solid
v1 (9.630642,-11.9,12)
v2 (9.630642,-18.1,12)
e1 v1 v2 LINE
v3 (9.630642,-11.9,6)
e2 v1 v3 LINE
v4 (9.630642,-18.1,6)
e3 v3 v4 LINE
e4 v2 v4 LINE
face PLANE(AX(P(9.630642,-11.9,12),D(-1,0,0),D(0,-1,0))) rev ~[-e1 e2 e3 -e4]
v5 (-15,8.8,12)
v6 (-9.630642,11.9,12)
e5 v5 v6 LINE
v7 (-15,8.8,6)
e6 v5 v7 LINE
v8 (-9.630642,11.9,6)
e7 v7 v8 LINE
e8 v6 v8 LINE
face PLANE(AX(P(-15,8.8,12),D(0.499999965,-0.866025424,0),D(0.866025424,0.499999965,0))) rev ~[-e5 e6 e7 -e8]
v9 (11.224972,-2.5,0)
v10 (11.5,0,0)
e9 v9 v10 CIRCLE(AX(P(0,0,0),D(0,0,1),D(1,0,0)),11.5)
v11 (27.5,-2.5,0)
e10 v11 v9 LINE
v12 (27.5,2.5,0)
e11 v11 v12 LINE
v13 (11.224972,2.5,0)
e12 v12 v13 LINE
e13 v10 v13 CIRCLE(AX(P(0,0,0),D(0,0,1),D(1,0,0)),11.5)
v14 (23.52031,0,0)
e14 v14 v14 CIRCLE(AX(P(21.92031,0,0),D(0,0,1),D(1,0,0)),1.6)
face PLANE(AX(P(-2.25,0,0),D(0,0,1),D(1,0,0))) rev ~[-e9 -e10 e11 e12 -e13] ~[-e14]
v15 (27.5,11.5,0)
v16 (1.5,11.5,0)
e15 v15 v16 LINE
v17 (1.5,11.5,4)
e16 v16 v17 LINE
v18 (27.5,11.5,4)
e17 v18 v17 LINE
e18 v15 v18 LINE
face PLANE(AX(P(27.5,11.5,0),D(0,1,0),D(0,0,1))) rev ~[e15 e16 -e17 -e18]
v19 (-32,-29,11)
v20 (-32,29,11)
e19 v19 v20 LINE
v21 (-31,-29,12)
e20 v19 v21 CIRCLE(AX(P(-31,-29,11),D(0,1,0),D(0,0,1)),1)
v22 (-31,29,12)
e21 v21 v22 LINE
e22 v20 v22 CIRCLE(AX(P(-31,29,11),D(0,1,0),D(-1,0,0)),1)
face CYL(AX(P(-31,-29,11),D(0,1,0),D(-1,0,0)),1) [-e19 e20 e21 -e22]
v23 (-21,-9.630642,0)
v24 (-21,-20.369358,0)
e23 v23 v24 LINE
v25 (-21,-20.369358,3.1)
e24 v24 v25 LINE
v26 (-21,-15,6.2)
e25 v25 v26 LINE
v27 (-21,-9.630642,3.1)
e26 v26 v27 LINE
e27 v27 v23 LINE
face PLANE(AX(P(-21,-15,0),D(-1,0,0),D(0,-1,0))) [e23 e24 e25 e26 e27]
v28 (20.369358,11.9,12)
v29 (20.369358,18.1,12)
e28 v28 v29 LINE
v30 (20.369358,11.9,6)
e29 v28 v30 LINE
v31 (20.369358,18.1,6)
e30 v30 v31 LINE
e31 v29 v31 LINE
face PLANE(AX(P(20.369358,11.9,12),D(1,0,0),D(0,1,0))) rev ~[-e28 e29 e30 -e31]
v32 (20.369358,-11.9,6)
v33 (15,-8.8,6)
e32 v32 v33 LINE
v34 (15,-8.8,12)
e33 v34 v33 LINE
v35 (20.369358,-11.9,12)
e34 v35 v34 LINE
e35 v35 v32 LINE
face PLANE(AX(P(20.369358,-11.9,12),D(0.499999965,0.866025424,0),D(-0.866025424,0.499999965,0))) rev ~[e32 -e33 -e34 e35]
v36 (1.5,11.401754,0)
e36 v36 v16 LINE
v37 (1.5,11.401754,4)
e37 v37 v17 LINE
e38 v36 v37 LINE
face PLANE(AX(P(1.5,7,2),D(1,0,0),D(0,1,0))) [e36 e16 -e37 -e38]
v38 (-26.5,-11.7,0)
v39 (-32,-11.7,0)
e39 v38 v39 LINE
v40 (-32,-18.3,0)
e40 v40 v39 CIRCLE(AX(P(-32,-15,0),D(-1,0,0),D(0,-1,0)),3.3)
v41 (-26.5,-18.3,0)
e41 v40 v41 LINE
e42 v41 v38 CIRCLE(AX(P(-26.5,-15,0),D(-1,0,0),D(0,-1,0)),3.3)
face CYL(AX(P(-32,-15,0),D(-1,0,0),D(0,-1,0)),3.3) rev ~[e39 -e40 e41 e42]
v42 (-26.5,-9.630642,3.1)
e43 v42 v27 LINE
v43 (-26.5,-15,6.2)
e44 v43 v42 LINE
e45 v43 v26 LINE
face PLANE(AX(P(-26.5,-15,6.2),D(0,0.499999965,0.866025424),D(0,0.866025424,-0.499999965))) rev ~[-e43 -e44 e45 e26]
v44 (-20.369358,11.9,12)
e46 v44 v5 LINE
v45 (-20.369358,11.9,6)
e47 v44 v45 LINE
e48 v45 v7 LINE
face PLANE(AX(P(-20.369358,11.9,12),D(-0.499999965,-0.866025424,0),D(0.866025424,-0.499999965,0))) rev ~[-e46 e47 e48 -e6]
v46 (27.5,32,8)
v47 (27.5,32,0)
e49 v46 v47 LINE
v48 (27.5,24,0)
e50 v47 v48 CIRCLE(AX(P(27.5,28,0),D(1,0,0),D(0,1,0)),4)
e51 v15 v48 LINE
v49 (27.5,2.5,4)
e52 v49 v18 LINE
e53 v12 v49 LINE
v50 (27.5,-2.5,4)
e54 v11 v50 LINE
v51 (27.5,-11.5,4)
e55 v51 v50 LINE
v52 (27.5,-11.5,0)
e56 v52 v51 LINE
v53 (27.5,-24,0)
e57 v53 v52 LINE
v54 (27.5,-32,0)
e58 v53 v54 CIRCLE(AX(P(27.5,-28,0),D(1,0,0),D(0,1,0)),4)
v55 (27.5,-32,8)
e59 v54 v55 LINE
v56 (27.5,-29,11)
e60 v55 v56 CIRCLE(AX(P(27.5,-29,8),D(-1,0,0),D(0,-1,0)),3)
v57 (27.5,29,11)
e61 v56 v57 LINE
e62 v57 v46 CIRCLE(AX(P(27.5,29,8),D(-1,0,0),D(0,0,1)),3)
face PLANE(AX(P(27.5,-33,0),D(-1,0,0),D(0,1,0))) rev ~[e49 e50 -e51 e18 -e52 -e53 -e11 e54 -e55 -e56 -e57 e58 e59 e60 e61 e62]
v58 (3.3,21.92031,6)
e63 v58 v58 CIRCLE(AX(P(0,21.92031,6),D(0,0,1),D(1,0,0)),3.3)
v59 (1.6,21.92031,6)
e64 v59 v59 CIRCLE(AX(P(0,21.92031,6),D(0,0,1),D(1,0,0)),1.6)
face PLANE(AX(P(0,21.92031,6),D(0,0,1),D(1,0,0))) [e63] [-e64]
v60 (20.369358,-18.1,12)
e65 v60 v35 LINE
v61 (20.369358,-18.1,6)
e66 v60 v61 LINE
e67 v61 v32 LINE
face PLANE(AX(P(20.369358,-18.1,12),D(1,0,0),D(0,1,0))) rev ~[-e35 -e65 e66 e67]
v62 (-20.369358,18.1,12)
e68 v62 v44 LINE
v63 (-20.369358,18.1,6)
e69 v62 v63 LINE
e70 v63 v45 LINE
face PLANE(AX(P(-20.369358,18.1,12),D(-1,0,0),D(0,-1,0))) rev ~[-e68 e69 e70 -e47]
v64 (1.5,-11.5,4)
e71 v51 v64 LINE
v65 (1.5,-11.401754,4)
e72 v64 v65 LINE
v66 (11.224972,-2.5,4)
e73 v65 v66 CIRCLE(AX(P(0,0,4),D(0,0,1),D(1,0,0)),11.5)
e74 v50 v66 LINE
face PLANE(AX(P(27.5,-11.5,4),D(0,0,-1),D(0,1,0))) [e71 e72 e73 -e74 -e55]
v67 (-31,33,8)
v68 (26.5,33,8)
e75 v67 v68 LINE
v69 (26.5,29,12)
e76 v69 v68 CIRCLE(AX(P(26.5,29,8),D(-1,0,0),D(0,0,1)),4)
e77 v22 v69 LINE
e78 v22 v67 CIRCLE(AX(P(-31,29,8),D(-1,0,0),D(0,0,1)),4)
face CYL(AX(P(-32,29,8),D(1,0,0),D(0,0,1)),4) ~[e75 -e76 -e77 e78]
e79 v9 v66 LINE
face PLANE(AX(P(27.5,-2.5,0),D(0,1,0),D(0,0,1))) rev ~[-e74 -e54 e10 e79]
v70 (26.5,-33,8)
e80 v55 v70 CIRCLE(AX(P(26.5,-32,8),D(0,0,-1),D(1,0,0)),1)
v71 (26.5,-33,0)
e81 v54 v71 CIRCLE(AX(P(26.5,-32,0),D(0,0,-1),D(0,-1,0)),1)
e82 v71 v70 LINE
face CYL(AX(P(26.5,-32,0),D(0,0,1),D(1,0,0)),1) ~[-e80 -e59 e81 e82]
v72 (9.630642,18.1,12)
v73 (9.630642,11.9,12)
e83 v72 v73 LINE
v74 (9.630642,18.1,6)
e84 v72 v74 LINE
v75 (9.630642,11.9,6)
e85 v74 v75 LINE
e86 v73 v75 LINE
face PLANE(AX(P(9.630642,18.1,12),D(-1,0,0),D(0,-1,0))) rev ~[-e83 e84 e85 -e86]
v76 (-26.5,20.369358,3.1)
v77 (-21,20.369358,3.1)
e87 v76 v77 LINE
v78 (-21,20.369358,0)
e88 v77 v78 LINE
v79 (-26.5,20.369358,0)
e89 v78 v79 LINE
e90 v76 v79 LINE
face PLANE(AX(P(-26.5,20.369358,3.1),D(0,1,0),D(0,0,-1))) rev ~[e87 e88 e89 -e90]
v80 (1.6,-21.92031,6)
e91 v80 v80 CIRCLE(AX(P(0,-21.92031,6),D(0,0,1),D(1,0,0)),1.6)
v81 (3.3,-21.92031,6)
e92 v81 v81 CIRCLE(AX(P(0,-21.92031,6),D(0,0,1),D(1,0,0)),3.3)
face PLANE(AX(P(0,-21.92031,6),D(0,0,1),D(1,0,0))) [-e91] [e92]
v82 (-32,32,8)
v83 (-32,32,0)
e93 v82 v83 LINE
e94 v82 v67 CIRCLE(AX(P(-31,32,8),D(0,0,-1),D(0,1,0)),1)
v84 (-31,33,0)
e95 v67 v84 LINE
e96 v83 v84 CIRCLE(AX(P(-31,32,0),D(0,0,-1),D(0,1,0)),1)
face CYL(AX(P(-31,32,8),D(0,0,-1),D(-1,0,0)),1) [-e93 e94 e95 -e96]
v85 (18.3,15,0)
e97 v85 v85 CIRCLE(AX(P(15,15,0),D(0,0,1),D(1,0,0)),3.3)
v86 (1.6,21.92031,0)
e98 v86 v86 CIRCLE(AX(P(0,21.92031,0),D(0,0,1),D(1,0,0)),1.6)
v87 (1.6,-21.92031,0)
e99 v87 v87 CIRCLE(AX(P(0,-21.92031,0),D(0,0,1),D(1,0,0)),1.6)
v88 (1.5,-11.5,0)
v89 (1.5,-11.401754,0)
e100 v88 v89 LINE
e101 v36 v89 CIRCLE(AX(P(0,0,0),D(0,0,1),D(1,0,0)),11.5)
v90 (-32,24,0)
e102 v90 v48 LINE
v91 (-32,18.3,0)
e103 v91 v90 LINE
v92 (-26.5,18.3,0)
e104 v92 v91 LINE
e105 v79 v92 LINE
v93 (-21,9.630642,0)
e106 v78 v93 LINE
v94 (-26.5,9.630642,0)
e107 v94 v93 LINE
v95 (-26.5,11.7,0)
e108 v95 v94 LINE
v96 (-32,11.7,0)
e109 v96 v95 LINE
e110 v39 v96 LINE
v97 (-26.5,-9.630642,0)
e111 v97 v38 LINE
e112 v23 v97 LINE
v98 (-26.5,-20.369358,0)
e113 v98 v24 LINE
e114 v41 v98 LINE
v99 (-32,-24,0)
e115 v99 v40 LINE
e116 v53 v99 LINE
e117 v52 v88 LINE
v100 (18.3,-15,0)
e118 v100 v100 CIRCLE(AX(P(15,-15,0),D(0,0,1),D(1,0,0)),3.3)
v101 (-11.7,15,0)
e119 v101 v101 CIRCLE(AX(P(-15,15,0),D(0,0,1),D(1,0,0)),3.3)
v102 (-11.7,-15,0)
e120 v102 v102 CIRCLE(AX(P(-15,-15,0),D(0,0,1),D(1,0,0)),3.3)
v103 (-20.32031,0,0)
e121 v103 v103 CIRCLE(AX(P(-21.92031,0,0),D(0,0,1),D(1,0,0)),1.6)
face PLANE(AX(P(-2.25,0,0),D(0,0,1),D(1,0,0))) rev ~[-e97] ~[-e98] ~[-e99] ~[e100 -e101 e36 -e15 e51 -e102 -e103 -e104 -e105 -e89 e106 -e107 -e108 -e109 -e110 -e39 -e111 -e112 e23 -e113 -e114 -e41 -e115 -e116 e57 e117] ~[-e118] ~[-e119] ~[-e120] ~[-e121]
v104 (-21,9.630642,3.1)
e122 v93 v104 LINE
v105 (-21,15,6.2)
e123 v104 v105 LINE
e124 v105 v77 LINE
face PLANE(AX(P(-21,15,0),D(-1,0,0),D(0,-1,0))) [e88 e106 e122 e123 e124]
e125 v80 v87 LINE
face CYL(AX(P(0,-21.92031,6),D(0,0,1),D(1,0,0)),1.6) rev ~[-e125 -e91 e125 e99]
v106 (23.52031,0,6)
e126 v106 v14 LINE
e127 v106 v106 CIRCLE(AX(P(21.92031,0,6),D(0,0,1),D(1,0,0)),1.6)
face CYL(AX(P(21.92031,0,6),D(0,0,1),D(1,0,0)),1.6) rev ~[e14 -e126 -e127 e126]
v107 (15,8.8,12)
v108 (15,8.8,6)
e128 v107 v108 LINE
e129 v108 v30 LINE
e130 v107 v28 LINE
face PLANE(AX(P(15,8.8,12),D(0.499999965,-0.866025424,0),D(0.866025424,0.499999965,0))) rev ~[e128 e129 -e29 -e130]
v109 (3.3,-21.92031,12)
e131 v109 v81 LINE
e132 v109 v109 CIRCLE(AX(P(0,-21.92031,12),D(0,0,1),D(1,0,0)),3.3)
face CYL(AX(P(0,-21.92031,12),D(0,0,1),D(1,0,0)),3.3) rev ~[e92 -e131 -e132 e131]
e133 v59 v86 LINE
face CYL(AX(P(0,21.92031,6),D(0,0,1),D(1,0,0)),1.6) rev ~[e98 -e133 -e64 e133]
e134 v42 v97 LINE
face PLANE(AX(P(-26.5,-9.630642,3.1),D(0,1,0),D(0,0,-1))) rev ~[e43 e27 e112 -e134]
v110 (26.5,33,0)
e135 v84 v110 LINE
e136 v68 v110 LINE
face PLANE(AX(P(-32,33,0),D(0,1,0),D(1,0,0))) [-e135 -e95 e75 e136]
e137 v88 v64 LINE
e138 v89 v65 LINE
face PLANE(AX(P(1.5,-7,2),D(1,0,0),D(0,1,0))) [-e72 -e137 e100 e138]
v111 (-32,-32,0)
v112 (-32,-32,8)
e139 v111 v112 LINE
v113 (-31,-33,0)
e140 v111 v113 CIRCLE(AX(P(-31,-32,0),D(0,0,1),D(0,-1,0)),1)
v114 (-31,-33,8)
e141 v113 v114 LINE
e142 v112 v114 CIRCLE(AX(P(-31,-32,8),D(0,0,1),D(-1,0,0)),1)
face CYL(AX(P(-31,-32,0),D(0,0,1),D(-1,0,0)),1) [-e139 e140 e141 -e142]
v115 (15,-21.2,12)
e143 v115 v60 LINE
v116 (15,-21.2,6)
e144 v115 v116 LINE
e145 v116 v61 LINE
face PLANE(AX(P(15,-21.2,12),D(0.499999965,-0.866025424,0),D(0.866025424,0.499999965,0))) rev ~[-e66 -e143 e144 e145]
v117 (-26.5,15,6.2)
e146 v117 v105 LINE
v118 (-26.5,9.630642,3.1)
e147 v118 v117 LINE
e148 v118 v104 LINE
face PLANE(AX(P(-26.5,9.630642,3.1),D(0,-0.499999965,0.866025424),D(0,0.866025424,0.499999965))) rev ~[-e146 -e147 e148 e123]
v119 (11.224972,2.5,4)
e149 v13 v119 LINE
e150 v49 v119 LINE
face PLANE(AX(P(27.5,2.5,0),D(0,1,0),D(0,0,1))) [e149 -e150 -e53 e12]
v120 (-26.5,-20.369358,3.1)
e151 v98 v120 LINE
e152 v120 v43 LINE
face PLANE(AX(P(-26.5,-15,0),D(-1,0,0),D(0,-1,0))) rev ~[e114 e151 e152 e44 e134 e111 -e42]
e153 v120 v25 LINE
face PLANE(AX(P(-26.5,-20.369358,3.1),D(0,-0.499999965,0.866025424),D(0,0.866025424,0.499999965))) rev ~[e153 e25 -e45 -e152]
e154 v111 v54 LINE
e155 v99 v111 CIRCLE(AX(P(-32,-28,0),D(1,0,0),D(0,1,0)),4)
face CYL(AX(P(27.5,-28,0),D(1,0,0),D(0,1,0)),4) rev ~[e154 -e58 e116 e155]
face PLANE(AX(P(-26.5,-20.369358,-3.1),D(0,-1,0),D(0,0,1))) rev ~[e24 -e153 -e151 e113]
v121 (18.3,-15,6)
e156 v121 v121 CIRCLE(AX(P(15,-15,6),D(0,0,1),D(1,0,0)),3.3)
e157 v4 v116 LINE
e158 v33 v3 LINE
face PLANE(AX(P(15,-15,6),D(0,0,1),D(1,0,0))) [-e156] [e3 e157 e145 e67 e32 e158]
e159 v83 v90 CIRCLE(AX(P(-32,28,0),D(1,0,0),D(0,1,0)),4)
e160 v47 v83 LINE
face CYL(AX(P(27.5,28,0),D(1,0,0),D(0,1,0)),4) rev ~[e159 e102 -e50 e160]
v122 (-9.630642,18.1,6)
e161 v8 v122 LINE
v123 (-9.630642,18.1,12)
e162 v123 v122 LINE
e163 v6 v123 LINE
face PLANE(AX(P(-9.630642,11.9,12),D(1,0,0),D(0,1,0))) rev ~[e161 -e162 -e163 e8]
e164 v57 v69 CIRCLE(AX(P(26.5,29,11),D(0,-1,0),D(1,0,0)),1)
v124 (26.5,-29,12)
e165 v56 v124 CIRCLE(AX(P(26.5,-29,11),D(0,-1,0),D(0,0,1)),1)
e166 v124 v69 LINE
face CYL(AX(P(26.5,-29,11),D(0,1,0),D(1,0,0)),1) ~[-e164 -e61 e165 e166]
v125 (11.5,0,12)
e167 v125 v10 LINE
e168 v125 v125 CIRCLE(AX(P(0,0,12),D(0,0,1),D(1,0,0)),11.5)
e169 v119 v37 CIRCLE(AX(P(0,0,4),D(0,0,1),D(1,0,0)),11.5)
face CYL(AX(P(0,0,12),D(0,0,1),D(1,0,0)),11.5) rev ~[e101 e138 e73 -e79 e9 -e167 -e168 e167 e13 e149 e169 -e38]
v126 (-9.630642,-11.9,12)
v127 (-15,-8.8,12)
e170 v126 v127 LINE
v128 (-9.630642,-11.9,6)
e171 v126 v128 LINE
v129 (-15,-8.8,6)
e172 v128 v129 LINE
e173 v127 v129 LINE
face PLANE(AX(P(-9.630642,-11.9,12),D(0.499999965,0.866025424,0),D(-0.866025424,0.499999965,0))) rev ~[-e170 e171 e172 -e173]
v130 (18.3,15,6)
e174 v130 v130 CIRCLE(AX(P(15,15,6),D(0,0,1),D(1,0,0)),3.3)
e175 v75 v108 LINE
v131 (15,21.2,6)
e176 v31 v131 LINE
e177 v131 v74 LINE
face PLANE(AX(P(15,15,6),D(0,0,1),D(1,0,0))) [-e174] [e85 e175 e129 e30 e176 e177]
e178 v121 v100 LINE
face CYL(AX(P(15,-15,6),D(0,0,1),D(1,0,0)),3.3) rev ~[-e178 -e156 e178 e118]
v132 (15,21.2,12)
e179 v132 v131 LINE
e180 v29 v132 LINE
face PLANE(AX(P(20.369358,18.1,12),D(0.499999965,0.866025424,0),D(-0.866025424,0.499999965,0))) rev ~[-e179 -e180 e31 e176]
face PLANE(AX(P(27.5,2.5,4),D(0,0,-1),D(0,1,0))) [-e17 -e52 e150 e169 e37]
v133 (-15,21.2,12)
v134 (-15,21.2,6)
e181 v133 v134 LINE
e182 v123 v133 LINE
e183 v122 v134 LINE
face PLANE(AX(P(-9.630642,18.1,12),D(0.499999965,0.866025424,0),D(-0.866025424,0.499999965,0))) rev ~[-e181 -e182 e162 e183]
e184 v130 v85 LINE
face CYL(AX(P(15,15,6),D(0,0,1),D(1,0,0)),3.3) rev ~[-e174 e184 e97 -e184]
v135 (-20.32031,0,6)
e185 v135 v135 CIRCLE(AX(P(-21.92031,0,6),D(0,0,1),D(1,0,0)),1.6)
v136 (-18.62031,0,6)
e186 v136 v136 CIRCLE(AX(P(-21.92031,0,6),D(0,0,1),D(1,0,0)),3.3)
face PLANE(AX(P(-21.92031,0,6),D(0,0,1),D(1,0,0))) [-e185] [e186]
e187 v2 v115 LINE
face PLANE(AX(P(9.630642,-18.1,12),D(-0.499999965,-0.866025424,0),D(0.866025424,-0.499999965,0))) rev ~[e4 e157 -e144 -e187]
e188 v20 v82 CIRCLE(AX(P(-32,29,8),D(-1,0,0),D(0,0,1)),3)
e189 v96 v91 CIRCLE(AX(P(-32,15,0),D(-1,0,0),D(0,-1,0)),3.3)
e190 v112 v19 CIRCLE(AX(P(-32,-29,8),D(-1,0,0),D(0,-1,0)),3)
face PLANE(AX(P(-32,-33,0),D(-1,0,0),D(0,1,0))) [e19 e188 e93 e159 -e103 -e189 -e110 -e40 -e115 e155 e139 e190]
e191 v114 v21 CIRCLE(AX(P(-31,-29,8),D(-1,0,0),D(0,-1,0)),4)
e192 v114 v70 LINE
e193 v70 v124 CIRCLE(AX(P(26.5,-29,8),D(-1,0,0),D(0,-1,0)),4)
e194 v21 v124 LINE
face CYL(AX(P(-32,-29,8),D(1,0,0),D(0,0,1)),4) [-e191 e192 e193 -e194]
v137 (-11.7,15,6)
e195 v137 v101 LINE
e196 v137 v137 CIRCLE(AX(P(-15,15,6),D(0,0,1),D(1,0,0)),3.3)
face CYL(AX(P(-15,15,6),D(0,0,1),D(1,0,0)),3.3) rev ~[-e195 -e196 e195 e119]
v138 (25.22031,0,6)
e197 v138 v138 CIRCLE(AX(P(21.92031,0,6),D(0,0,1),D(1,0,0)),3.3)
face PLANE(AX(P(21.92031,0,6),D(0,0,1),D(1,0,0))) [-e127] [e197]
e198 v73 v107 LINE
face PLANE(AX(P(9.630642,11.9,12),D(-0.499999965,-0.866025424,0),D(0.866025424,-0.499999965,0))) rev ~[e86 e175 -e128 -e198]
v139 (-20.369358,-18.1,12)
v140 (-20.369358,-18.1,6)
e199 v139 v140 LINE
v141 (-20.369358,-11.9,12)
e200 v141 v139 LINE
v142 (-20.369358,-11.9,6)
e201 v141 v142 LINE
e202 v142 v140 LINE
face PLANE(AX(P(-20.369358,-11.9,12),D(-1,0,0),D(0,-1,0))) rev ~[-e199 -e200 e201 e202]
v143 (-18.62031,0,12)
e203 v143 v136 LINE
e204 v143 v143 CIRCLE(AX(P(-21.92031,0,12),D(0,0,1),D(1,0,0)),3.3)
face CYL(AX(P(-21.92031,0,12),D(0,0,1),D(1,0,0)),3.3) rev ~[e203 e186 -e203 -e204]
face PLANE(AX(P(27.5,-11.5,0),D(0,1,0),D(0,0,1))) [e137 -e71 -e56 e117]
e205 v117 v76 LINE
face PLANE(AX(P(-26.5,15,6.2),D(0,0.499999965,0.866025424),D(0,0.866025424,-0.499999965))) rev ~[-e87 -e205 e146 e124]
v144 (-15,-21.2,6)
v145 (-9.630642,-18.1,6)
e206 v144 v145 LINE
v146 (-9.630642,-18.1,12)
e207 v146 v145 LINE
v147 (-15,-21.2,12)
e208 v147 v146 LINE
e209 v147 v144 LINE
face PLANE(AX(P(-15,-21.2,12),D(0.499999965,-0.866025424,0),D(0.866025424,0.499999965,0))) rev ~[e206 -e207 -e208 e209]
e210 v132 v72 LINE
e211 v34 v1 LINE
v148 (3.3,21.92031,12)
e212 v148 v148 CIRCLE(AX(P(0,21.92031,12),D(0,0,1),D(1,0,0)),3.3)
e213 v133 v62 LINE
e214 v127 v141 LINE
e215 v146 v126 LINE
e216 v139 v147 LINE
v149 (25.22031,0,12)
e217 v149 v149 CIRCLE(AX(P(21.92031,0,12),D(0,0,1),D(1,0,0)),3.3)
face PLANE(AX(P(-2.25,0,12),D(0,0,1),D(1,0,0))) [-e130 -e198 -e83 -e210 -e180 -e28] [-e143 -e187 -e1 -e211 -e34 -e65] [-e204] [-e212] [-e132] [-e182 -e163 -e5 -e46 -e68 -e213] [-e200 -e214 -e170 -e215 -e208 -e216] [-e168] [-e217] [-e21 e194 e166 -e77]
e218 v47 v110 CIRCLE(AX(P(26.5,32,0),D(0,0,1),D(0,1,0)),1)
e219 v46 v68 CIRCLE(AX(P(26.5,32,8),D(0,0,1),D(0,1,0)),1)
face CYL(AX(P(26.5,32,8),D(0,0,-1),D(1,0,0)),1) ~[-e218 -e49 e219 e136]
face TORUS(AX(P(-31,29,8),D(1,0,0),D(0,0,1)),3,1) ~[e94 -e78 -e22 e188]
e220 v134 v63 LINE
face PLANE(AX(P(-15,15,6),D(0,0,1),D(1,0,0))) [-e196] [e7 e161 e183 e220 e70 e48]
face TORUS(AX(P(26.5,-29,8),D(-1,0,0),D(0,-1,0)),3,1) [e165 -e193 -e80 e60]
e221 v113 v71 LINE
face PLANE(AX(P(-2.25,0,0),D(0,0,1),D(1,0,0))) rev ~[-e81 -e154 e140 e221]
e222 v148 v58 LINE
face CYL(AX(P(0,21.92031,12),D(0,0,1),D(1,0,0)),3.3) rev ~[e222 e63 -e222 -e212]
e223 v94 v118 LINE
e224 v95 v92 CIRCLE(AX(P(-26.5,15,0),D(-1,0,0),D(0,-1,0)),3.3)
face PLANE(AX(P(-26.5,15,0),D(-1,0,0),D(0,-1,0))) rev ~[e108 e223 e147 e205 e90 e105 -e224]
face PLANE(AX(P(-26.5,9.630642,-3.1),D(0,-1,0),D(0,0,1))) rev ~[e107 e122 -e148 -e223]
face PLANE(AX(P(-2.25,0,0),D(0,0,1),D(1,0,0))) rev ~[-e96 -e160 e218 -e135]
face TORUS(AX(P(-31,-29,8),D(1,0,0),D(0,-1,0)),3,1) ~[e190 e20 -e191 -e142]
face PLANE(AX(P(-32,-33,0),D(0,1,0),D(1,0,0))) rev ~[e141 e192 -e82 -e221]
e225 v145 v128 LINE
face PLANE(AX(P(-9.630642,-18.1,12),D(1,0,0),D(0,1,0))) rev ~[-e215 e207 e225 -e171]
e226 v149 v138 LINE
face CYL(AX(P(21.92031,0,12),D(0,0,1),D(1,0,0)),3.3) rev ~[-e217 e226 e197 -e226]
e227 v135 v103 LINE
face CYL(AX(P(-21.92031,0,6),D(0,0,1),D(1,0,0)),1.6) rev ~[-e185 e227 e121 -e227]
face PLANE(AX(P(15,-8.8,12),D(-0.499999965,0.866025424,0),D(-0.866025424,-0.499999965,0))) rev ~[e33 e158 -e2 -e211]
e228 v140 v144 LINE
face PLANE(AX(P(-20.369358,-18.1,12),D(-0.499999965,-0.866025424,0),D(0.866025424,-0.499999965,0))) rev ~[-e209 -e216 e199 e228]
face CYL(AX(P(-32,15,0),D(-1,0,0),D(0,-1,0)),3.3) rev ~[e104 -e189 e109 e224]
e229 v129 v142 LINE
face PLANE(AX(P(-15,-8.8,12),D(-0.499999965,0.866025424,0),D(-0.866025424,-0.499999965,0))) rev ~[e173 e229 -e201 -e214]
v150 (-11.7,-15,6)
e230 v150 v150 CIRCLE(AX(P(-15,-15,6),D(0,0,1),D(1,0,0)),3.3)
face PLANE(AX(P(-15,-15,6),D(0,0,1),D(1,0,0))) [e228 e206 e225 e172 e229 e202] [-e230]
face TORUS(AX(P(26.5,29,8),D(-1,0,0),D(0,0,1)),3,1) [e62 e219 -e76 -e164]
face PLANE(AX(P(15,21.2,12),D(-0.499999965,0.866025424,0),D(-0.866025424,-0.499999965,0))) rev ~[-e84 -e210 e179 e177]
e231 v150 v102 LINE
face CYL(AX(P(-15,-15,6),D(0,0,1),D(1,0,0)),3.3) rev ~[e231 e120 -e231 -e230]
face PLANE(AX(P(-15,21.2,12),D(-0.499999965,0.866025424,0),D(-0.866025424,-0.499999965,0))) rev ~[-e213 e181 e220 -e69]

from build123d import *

# Parameters (mm, degrees)
SKETCH_W        = 59.5
SKETCH_H        = 66
PAD_DEPTH       = 12
SKETCH001_R     = 3.3
POCKET_DEPTH    = 6
SKETCH002_R     = 3.3
SKETCH002_R_2   = 1.6
POCKET001_DEPTH = 6.001
SKETCH003_R     = 4
POCKET002_DEPTH = 59.501
SKETCH004_R     = 3.3
POCKET003_DEPTH = 5.5
POCKET004_DEPTH = 5.5
SKETCH006_R     = 11.5
POCKET005_DEPTH = 12.001
SKETCH007_W     = 9
SKETCH007_H     = 4
POCKET006_DEPTH = 26
FILLET_R        = 4
FILLET001_R     = 4
FILLET002_R     = 1
FILLET003_R     = 1


with BuildPart() as part:
    # Sketch → Pad (new body)
    with BuildSketch(Plane.XY):
        with Locations((-2.25, 0)):
            Rectangle(SKETCH_W, SKETCH_H)
    extrude(amount=PAD_DEPTH)

    # Sketch001 (on Face6 of Pad) → Pocket (cut)
    with BuildSketch(Plane.XY.offset(12)):
        with Locations((0, 21.92031)):
            Circle(SKETCH001_R)
        with Locations((-21.92031, 0)):
            Circle(SKETCH001_R)
        with Locations((21.92031, 0)):
            Circle(SKETCH001_R)
        with Locations((0, -21.92031)):
            Circle(SKETCH001_R)
        Polygon((-9.630642, 18.1), (-15, 21.2), (-20.369358, 18.1), (-20.369358, 11.9), (-15, 8.8), (-9.630642, 11.9), align=None)
        Polygon((20.369358, 18.1), (15, 21.2), (9.630642, 18.1), (9.630642, 11.9), (15, 8.8), (20.369358, 11.9), align=None)
        Polygon((-20.369358, -18.1), (-15, -21.2), (-9.630642, -18.1), (-9.630642, -11.9), (-15, -8.8), (-20.369358, -11.9), align=None)
        Polygon((20.369358, -11.9), (15, -8.8), (9.630642, -11.9), (9.630642, -18.1), (15, -21.2), (20.369358, -18.1), align=None)
    extrude(amount=-POCKET_DEPTH, mode=Mode.SUBTRACT)

    # Sketch002 (on Face41 of Pocket) → Pocket001 (cut, through all)
    with BuildSketch(Plane.XY.offset(6)):
        with Locations((-15, 15)):
            Circle(SKETCH002_R)
        with Locations((0, 21.92031)):
            Circle(SKETCH002_R_2)
        with Locations((15, 15)):
            Circle(SKETCH002_R)
        with Locations((-15, -15)):
            Circle(SKETCH002_R)
        with Locations((15, -15)):
            Circle(SKETCH002_R)
        with Locations((0, -21.92031)):
            Circle(SKETCH002_R_2)
        with Locations((21.92031, 0)):
            Circle(SKETCH002_R_2)
        with Locations((-21.92031, 0)):
            Circle(SKETCH002_R_2)
    extrude(amount=-POCKET001_DEPTH, mode=Mode.SUBTRACT)

    # Sketch003 (on Face3 of Pocket001) → Pocket002 (cut, through all)
    with BuildSketch(Plane.YZ.offset(27.5)):
        with Locations((-28, 0)):
            Circle(SKETCH003_R)
        with Locations((28, 0)):
            Circle(SKETCH003_R)
    extrude(amount=-POCKET002_DEPTH, mode=Mode.SUBTRACT)

    # Sketch004 (on Face2 of Pocket002) → Pocket003 (cut)
    with BuildSketch(Plane(origin=(-32, 0, 0), x_dir=(0, -1, 0), z_dir=(-1, 0, 0))):
        with Locations((-15, 0)):
            Circle(SKETCH004_R)
        with Locations((15, 0)):
            Circle(SKETCH004_R)
    extrude(amount=-POCKET003_DEPTH, mode=Mode.SUBTRACT)

    # Sketch005 (on Face42 of Pocket003) → Pocket004 (cut)
    with BuildSketch(Plane(origin=(-26.5, 0, 0), x_dir=(0, -1, 0), z_dir=(-1, 0, 0))):
        Polygon((-9.630642, 3.1), (-15, 6.2), (-20.369358, 3.1), (-20.369358, -3.1), (-15, -6.2), (-9.630642, -3.1), align=None)
        Polygon((9.630642, -3.1), (15, -6.2), (20.369358, -3.1), (20.369358, 3.1), (15, 6.2), (9.630642, 3.1), align=None)
    extrude(amount=-POCKET004_DEPTH, mode=Mode.SUBTRACT)

    # Sketch006 (on Face5 of Pocket004) → Pocket005 (cut, through all)
    with BuildSketch(Plane.XY.offset(12)):
        Circle(SKETCH006_R)
    extrude(amount=-POCKET005_DEPTH, mode=Mode.SUBTRACT)

    # Sketch007 (on Face3 of Pocket005) → Pocket006 (cut)
    with BuildSketch(Plane.YZ.offset(27.5)):
        with Locations((-7, 2)):
            Rectangle(SKETCH007_W, SKETCH007_H)
        with Locations((7, 2)):
            Rectangle(SKETCH007_W, SKETCH007_H)
    extrude(amount=-POCKET006_DEPTH, mode=Mode.SUBTRACT)

    # Fillet
    fillet_edges = [part.edges().sort_by_distance(p)[0] for p in [
        (-2.25, -33, 12),
    ]]
    fillet(fillet_edges, radius=FILLET_R)

    # Fillet001
    fillet001_edges = [part.edges().sort_by_distance(p)[0] for p in [
        (-2.25, 33, 12),
    ]]
    fillet(fillet001_edges, radius=FILLET001_R)

    # Fillet002
    fillet002_edges = [part.edges().sort_by_distance(p)[0] for p in [
        (-32, 0, 12),
    ]]
    fillet(fillet002_edges, radius=FILLET002_R)

    # Fillet003
    fillet003_edges = [part.edges().sort_by_distance(p)[0] for p in [
        (27.5, 0, 12),
    ]]
    fillet(fillet003_edges, radius=FILLET003_R)


solid = part.part
